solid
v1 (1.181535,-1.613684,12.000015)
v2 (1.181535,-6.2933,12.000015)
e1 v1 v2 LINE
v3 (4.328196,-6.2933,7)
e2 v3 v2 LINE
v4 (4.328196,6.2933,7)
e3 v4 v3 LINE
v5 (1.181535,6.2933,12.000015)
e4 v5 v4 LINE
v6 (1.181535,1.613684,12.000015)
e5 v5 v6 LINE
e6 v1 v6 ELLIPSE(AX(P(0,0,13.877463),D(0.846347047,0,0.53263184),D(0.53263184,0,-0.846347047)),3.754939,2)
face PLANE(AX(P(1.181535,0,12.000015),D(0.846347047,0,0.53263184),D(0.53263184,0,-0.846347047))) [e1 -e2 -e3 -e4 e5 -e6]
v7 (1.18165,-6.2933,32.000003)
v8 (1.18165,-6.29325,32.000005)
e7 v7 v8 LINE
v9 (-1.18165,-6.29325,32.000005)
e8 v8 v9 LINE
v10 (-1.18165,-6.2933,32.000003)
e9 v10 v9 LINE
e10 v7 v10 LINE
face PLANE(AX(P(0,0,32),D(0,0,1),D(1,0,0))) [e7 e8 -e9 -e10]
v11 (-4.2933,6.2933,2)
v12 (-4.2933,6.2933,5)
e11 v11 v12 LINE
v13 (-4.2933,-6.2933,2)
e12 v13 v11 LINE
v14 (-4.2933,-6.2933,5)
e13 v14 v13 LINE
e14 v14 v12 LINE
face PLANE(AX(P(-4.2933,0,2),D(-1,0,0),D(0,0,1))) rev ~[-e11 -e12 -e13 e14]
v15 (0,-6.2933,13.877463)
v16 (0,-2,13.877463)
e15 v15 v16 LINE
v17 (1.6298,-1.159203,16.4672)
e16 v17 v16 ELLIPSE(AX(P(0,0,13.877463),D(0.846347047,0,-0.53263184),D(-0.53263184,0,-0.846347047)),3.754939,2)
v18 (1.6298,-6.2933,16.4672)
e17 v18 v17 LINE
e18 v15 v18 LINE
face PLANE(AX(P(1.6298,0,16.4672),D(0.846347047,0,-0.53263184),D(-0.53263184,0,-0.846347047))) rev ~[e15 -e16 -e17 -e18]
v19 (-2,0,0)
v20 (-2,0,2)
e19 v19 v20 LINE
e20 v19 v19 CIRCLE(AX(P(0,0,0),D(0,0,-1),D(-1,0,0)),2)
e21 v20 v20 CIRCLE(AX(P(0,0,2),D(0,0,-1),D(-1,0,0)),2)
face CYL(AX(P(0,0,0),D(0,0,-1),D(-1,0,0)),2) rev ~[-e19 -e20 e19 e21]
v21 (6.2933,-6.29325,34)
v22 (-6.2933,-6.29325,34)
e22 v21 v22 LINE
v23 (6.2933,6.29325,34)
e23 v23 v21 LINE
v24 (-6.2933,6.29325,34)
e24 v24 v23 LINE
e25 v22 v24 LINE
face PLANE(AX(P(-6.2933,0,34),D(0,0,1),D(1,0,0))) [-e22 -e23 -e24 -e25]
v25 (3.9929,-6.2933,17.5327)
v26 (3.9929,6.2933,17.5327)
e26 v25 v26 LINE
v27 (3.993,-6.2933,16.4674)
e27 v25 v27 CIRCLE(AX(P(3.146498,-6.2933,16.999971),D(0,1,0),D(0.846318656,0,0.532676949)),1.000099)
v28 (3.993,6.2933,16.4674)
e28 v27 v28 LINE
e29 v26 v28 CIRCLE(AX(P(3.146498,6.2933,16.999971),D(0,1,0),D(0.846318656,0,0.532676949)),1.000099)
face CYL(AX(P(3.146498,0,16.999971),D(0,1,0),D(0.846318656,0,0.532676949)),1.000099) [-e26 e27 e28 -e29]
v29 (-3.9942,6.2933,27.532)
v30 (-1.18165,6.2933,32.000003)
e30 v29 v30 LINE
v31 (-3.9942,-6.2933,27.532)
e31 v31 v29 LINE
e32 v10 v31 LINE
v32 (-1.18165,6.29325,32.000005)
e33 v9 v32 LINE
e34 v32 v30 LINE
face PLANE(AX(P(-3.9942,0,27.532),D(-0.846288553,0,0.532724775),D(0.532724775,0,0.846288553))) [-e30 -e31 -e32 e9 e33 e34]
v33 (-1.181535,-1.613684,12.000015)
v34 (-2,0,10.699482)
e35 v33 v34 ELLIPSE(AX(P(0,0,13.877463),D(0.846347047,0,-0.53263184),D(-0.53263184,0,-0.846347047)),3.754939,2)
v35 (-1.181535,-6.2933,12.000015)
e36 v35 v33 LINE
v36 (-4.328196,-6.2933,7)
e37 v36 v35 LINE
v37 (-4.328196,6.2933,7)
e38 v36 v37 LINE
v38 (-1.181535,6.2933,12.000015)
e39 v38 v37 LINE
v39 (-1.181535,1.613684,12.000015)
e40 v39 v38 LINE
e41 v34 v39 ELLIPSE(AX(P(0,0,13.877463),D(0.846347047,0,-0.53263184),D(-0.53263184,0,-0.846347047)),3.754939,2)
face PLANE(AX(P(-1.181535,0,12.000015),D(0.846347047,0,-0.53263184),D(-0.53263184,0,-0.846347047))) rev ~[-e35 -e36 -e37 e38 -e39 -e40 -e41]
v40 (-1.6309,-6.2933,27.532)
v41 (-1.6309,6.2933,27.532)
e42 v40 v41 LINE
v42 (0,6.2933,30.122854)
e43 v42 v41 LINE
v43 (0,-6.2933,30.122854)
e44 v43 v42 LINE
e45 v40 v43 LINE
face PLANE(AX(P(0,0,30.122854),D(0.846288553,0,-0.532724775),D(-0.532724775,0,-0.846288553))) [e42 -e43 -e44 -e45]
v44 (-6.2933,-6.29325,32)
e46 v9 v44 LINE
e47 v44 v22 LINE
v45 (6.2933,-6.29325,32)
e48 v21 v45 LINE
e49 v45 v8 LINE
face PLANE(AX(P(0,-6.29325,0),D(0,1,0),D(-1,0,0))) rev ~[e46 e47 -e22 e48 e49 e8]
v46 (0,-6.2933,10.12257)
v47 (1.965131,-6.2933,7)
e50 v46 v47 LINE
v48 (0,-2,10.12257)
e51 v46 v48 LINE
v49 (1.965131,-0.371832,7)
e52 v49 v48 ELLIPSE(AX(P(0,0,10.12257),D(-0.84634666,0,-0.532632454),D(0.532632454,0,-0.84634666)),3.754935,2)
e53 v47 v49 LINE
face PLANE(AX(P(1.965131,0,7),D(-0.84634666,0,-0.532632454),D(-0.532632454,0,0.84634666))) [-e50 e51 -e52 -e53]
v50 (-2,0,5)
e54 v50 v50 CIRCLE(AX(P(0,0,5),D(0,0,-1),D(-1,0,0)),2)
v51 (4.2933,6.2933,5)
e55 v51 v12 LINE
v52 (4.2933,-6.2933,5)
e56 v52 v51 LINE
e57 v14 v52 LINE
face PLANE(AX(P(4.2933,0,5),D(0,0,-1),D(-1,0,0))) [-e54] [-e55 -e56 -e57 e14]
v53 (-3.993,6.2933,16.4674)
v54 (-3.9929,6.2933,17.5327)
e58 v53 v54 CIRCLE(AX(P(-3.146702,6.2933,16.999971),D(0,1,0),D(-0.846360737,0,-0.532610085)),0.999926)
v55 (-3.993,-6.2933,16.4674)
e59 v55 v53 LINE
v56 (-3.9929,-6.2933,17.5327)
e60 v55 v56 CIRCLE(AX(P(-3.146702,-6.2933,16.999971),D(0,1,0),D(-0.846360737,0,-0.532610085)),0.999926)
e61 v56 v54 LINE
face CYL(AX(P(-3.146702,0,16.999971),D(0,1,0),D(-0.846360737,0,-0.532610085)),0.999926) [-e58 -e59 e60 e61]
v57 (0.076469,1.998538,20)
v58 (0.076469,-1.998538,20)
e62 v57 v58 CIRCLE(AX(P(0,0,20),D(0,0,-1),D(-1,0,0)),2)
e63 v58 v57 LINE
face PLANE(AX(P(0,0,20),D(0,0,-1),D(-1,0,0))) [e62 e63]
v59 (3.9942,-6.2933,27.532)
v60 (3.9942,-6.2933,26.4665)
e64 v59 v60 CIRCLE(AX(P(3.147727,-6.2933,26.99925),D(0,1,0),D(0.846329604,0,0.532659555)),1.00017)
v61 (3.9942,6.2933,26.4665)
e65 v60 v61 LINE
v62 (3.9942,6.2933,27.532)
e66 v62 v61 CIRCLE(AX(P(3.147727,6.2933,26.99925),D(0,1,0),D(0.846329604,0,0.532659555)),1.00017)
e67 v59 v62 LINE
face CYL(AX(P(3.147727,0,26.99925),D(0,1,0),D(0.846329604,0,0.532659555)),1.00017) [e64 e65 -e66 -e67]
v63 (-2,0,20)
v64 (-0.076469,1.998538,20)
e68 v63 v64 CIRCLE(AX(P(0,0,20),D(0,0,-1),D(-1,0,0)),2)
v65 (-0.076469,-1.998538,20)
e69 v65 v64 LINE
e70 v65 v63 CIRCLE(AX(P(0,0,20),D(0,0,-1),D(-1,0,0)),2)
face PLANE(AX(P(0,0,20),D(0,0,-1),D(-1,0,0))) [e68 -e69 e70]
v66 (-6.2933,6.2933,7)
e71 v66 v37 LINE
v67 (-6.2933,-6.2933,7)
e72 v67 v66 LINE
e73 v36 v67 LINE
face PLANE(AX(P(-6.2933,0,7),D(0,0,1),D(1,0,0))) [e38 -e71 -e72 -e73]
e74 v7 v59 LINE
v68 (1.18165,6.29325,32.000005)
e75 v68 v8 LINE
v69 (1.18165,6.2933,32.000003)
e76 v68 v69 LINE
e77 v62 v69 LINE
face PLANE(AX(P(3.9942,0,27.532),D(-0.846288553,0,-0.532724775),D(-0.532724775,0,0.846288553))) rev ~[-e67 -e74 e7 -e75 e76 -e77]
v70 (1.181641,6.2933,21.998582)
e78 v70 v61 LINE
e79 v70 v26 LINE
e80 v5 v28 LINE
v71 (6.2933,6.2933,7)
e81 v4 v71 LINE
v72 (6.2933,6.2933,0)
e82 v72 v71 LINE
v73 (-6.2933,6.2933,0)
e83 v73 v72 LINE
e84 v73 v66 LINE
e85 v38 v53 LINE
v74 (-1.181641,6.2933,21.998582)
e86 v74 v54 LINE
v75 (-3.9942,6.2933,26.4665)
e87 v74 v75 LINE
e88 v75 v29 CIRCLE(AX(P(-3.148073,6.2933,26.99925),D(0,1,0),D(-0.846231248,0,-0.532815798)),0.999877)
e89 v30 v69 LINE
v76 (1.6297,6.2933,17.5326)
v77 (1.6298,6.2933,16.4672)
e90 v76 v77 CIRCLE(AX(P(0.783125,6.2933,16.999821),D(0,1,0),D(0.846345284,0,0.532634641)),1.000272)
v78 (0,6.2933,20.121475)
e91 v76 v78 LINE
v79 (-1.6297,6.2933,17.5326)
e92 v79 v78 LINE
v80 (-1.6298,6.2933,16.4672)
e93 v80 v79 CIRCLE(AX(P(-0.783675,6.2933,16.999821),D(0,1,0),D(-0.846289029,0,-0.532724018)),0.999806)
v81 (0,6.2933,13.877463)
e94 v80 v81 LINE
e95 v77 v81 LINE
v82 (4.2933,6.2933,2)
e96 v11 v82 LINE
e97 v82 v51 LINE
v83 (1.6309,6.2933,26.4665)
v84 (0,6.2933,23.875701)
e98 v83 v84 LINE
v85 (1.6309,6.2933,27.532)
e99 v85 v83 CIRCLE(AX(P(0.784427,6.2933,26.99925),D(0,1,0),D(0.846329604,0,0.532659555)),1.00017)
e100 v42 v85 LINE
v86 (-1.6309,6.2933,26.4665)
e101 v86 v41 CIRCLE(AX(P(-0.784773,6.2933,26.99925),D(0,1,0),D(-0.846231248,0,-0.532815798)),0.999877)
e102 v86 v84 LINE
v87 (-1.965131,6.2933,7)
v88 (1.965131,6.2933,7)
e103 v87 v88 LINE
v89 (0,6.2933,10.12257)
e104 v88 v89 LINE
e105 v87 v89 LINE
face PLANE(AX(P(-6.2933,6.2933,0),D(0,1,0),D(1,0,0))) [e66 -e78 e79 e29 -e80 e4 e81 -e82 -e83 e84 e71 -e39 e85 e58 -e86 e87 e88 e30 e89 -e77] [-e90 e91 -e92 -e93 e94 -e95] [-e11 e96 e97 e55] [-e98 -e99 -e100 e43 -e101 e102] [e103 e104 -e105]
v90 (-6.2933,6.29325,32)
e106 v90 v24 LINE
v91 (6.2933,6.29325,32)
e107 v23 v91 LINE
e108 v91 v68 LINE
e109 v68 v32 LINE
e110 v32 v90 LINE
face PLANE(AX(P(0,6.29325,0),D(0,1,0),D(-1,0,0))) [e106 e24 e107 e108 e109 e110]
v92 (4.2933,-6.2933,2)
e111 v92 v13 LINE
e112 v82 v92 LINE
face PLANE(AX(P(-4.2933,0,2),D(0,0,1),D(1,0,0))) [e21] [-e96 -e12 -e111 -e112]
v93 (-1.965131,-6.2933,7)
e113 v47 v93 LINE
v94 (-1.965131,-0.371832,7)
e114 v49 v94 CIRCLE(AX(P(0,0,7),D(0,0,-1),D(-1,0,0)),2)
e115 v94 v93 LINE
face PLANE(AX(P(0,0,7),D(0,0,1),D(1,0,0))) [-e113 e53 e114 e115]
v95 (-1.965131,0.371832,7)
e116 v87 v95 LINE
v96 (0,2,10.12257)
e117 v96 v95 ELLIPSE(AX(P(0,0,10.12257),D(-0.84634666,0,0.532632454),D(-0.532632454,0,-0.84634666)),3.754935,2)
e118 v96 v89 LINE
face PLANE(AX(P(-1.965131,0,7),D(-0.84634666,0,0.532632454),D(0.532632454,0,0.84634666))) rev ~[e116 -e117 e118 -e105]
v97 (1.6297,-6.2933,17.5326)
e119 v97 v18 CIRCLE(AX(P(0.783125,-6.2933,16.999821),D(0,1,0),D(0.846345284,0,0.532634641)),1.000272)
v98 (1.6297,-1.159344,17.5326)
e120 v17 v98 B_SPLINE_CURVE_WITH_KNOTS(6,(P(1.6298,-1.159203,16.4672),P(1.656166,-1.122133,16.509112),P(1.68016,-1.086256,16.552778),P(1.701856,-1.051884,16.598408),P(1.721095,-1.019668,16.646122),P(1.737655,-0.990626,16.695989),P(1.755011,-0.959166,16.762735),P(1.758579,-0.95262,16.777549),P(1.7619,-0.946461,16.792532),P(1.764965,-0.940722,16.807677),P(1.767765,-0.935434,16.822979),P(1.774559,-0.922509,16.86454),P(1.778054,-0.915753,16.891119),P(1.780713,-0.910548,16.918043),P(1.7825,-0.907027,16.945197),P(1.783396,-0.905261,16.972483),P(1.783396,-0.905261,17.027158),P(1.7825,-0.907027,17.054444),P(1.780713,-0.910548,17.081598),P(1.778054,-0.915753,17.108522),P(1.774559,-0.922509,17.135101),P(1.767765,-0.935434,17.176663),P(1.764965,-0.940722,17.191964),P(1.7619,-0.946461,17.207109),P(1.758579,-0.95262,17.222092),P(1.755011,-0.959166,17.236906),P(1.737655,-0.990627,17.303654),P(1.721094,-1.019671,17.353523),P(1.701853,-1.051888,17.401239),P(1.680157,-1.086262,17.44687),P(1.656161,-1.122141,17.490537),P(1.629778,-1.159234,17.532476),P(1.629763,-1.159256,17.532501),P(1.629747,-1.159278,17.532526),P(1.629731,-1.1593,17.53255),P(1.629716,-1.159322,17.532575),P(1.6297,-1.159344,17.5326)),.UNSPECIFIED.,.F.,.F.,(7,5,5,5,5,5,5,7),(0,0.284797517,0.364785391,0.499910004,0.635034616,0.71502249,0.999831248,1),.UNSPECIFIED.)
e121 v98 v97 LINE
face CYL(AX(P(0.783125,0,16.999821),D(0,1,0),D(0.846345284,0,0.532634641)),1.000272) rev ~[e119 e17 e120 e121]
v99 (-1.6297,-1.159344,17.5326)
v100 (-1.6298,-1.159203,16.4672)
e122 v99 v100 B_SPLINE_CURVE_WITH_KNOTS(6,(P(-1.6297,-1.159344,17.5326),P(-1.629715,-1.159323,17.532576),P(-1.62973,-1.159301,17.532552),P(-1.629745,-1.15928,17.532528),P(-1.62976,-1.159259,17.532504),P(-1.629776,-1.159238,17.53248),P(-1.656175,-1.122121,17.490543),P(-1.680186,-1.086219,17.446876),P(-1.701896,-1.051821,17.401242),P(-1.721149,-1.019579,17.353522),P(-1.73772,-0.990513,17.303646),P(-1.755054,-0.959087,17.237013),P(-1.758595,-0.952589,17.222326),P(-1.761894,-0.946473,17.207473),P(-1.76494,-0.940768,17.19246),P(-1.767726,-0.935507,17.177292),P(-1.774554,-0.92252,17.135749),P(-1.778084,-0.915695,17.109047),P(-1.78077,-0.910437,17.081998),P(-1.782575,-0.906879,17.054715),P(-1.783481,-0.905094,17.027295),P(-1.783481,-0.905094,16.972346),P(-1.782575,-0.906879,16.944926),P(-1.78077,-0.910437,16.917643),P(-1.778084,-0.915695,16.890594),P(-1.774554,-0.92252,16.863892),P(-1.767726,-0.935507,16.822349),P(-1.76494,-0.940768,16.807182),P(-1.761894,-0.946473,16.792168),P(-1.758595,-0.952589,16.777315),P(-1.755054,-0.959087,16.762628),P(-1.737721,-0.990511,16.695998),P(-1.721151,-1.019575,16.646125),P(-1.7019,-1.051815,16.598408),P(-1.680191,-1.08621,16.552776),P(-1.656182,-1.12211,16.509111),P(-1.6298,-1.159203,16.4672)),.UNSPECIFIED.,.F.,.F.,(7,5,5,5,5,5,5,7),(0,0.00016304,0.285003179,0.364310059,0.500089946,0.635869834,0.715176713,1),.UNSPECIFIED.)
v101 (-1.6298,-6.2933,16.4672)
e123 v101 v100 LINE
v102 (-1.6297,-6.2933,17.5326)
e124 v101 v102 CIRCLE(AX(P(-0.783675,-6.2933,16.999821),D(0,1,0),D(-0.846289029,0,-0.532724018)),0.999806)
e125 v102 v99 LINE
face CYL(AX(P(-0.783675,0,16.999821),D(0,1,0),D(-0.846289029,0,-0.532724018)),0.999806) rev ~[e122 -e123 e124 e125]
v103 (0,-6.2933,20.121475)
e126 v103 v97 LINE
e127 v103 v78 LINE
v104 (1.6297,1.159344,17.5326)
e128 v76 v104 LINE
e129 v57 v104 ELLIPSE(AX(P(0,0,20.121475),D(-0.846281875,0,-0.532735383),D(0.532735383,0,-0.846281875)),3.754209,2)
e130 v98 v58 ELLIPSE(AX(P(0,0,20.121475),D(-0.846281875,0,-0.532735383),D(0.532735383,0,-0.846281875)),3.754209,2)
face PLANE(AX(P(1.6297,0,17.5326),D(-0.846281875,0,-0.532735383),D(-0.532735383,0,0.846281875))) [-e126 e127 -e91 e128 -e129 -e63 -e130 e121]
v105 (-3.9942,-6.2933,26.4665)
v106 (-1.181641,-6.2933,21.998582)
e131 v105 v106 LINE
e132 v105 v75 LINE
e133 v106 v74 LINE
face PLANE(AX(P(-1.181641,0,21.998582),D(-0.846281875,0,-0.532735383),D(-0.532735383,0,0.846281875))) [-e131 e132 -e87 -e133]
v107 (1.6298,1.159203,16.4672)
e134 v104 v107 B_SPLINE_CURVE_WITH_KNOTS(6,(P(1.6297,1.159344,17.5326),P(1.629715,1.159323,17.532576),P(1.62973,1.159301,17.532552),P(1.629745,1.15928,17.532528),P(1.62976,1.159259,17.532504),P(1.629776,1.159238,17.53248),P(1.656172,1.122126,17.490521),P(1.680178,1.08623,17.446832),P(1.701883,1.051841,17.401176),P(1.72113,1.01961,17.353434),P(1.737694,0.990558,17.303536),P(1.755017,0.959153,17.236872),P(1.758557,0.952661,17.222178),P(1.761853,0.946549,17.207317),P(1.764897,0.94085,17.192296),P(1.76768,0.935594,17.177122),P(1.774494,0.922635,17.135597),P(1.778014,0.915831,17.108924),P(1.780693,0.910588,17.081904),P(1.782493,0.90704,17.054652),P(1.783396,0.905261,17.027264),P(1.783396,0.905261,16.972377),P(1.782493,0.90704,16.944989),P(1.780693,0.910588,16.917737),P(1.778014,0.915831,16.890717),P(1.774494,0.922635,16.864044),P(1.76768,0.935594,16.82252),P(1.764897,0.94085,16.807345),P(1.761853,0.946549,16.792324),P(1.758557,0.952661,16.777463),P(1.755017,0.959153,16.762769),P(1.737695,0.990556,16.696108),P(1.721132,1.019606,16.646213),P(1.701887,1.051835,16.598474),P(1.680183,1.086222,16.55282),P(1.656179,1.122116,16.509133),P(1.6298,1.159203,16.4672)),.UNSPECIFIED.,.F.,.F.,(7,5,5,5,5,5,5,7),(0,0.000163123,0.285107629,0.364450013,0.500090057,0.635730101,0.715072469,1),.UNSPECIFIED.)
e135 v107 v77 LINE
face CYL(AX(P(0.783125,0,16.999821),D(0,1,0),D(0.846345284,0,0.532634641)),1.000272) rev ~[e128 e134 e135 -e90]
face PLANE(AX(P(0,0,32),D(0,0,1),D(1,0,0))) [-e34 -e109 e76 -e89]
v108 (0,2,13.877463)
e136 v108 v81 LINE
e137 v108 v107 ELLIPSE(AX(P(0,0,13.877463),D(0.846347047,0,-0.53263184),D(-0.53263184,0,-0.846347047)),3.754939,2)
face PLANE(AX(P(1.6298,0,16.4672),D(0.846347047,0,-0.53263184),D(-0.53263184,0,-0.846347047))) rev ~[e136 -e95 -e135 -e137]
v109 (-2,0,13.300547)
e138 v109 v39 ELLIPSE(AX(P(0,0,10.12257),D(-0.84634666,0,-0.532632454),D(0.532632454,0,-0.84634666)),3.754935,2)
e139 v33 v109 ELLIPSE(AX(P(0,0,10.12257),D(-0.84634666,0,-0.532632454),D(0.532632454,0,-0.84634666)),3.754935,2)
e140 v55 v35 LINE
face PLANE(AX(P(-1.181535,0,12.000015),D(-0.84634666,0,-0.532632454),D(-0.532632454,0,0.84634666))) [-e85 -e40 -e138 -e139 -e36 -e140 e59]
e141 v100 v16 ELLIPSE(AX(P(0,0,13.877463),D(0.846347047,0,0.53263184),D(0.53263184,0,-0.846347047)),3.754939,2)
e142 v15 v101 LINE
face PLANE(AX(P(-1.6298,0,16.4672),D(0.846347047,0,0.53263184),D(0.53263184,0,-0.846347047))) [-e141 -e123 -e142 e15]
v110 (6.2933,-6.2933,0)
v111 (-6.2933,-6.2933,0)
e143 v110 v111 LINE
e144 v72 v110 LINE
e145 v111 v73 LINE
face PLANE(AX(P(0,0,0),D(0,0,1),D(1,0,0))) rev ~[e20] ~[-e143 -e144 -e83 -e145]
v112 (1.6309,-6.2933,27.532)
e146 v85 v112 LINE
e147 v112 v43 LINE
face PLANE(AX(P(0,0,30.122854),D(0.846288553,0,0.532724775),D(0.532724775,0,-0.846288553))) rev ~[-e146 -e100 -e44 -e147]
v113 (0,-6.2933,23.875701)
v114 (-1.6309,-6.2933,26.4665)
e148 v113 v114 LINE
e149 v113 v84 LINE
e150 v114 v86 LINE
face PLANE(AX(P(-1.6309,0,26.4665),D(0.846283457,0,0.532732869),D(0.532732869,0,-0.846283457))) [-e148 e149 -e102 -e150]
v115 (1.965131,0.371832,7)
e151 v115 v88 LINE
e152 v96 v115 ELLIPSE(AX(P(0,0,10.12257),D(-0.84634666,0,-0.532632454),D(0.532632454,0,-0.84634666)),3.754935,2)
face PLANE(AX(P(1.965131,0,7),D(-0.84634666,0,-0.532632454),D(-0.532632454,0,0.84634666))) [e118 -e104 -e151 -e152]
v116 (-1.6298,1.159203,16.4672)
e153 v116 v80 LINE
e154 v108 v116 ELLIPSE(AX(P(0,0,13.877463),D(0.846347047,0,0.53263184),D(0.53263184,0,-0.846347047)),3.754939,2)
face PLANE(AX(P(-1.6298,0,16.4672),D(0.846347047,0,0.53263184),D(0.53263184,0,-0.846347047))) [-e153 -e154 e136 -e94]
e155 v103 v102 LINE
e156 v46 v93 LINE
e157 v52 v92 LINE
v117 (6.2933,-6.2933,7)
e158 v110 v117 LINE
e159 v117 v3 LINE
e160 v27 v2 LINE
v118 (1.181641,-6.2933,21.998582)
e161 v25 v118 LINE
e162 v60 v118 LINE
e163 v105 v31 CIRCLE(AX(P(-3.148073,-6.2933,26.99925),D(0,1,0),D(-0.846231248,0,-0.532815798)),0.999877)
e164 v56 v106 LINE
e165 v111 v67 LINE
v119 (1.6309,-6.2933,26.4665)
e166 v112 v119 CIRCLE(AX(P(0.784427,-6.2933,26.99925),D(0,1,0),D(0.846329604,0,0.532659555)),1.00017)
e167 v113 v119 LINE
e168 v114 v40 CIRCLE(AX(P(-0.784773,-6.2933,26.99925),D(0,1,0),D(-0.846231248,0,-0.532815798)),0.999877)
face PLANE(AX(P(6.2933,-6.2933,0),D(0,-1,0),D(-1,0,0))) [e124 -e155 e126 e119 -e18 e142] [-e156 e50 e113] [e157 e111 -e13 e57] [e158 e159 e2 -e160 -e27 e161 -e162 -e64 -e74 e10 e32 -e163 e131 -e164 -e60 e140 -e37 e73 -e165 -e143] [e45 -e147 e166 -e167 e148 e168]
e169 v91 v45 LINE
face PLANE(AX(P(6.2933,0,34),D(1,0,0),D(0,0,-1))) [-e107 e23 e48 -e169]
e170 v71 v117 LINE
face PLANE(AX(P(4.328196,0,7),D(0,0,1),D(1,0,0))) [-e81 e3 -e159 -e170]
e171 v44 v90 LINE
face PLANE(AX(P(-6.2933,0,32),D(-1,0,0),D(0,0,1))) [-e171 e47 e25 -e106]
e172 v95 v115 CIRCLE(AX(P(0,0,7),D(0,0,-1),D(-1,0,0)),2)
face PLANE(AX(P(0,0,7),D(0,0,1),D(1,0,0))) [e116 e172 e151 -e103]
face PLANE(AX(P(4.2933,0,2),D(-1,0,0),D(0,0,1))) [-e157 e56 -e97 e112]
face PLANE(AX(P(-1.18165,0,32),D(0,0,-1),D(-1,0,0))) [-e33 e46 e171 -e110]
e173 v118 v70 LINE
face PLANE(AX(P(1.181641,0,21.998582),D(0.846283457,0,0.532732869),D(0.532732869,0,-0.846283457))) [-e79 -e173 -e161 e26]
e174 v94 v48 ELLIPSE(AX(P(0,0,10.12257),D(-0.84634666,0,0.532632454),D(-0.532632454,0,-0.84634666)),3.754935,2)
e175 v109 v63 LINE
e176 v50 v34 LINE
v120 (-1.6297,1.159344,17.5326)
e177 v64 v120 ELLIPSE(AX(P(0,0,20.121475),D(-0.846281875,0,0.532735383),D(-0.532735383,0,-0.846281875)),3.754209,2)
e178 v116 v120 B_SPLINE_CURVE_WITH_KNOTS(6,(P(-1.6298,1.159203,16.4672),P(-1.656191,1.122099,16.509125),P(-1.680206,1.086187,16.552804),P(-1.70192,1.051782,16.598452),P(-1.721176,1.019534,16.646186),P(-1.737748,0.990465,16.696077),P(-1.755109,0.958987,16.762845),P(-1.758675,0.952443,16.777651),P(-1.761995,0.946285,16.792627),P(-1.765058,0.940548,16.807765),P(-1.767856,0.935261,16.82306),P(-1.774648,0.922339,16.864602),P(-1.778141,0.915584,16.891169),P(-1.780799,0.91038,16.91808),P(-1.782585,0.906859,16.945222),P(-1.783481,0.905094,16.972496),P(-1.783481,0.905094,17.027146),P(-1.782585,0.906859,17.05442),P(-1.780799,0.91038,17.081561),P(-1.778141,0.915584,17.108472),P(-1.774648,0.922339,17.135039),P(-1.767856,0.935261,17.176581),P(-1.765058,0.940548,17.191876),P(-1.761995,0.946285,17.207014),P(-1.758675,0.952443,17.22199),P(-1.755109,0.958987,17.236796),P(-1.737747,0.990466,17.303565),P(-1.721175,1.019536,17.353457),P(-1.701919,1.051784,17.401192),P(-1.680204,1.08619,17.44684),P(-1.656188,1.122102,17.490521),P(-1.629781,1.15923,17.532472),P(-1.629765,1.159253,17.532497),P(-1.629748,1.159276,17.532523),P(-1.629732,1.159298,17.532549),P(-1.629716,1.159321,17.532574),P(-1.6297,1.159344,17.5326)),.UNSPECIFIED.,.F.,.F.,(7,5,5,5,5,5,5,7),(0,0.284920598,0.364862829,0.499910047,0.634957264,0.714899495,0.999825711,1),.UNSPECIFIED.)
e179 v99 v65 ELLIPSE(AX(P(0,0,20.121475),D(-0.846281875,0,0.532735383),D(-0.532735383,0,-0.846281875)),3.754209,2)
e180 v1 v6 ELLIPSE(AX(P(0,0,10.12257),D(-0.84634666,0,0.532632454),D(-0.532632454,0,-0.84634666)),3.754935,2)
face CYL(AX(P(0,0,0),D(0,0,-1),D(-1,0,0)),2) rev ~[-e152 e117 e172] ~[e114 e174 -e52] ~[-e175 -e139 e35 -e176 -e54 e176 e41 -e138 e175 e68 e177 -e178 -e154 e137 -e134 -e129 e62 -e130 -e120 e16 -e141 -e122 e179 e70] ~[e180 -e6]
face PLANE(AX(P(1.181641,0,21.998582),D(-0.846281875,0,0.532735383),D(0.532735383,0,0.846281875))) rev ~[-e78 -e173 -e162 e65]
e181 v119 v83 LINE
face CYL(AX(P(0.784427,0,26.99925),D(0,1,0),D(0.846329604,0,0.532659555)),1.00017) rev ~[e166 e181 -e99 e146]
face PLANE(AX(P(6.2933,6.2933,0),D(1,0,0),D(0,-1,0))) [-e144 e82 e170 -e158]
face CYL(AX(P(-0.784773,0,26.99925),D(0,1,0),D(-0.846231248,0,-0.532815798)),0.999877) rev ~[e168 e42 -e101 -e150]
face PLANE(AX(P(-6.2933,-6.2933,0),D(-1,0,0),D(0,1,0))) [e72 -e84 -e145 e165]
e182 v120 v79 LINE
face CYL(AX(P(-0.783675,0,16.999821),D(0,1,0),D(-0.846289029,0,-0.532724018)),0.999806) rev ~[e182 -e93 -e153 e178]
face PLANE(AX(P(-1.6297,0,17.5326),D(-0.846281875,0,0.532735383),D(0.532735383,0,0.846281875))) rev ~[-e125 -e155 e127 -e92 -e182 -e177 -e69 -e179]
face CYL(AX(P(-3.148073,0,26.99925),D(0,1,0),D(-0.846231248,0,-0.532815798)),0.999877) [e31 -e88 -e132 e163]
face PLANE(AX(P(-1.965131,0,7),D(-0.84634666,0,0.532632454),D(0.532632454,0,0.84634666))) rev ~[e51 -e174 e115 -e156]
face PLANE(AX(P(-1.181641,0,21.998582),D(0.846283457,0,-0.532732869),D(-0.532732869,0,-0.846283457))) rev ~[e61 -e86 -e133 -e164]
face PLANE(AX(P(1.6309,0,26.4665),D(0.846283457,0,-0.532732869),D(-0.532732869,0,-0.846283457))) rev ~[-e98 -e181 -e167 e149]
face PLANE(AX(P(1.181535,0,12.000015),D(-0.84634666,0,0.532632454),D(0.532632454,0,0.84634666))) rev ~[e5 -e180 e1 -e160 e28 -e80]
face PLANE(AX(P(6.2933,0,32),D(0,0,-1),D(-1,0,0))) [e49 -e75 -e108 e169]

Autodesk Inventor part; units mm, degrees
ref_plane "YZ Plane" through (0, 0, 0) normal (1, 0, 0) x (0, 1, 0)
ref_plane "XZ Plane" through (0, 0, 0) normal (0, 1, 0) x (-1, 0, 0)
ref_plane "XY Plane" through (0, 0, 0) normal (0, 0, 1) x (1, 0, 0)
sketch "Boceto1" plane through (0, 0, 0) normal (0, 0, 1) x (1, 0, 0)
  circle A0 centre (0, 0) radius 8.9
  line L0 (6.2933, -6.2933) -> (-6.2933, -6.2933)
  line L1 (-6.2933, -6.2933) -> (-6.2933, 6.2933)
  line L2 (-6.2933, 6.2933) -> (6.2933, 6.2933)
  line L3 (6.2933, 6.2933) -> (6.2933, -6.2933)
  dimension "d0" = 17.8
  dimension "d1" = 12.5865
  dimension "d2" = 12.5865
extrude "Extrusión1" add sketch "Boceto1" along normal blind 32 contours L3 L0 L1 L2
sketch "Boceto3" plane through (0, 0, 0) normal (0, 0, -1) x (-1, 0, 0)
  circle A0 centre (0, 0) radius 2
  dimension "d25" = 4
extrude "Extrusión3" cut sketch "Boceto3" against normal blind 20
sketch "Boceto4" plane through (0, 0, 0) normal (0, 1, 0) x (-1, 0, 0)
  line L0 (-6.2933, 0) -> (6.2933, 0) projected
  line L1 (-6.2933, 0) -> (6.2933, 0)
  line L2 (6.2933, 0) -> (6.2933, 2)
  line L3 (6.2933, 2) -> (-6.2933, 2)
  line L4 (-6.2933, 2) -> (-6.2933, 0)
  line L5 (-6.2933, 0) -> (-4.2933, 0)
  line L6 (-4.2933, 0) -> (-4.2933, 5)
  line L7 (-4.2933, 5) -> (-6.2933, 5)
  line L8 (-6.2933, 5) -> (-6.2933, 0)
  line L9 (6.2933, 0) -> (4.2933, 0)
  line L10 (4.2933, 0) -> (4.2933, 5)
  line L11 (4.2933, 5) -> (6.2933, 5)
  line L12 (6.2933, 5) -> (6.2933, 0)
  line L13 (-6.2933, 5) -> (6.2933, 5)
  line L14 (6.2933, 5) -> (6.2933, 7)
  line L15 (6.2933, 7) -> (-6.2933, 7)
  line L16 (-6.2933, 7) -> (-6.2933, 5)
  line L17 (0, 7) -> (6.2933, 7)
  line L18 (0, 7) -> (-6.2933, 7)
  line L19 (3.1484, 5.1198) -> (-3.993, 16.4674)
  line L20 (-4.8411, 17.815) -> (-3.9947, 18.3476)
  line L21 (4.8411, 6.185) -> (3.1484, 5.1198)
  line L22 (-5.1073, 15.7625) -> (-3.4147, 14.697)
  line L23 (3.9942, 27.532) -> (-0.0773, 34)
  line L24 (-3.4155, 39.303) -> (-5.1081, 38.2376)
  line L25 (-6.2933, 32) -> (6.2933, 32) projected
  line L26 (-6.2933, 32) -> (6.2933, 32)
  line L27 (6.2933, 32) -> (6.2933, 34)
  line L28 (6.2933, 34) -> (-6.2933, 34)
  line L29 (-6.2933, 34) -> (-6.2933, 32)
  line L30 (-1.6298, 16.4672) -> (4.8411, 6.185)
  line L31 (-1.6297, 17.5326) -> (3.9942, 26.4665)
  line L32 (-2.4406, 34) -> (1.6309, 27.532)
  line L33 (-2.4406, 34) -> (-0.0773, 34)
  line L34 (1.6309, 26.4665) -> (-3.9929, 17.5327)
  line L35 (0, 0) -> (0, -2)
  arc A0 (-1.6297, 17.5326) -> (-1.6298, 16.4672) centre (-0.7834, 16.9999) ccw
  arc A1 (-3.9929, 17.5327) -> (-3.993, 16.4674) centre (-3.1466, 17) ccw
  arc A2 (1.6309, 26.4665) -> (1.6309, 27.532) centre (0.7846, 26.9993) ccw
  arc A3 (3.9942, 26.4665) -> (3.9942, 27.532) centre (3.1479, 26.9993) ccw
  line L36 (-3.1484, 5.1198) -> (3.993, 16.4674)
  line L37 (-4.8411, 6.185) -> (-3.1484, 5.1198)
  line L38 (-3.9942, 27.532) -> (0.0773, 34)
  line L39 (1.6298, 16.4672) -> (-4.8411, 6.185)
  line L40 (1.6297, 17.5326) -> (-3.9942, 26.4665)
  line L41 (2.4406, 34) -> (-1.6309, 27.532)
  line L42 (2.4406, 34) -> (0.0773, 34)
  line L43 (-1.6309, 26.4665) -> (3.9929, 17.5327)
  arc A4 (1.6298, 16.4672) -> (1.6297, 17.5326) centre (0.7834, 16.9999) ccw
  arc A5 (3.993, 16.4674) -> (3.9929, 17.5327) centre (3.1466, 17) ccw
  arc A6 (-1.6309, 27.532) -> (-1.6309, 26.4665) centre (-0.7846, 26.9993) ccw
  arc A7 (-3.9942, 27.532) -> (-3.9942, 26.4665) centre (-3.1479, 26.9993) ccw
  point P0 (3.1466, 7)
  point P1 (-3.1466, 7)
  point P2 (0.0009, 22)
  point P3 (0, 32)
  point P4 (3.4147, 14.697)
  point P5 (-0.0009, 22)
  point P6 (3.9947, 18.3476)
  point P7 (-4.2933, 2)
  point P8 (4.2933, 2)
  point P9 (0, 10.1225)
  point P10 (1.9651, 7)
  point P11 (-1.9651, 7)
  point P12 (0, 13.8775)
  point P13 (0, 20.1215)
  point P14 (0, 30.1229)
  point P15 (0, 23.8757)
  point P16 (4.3282, 7)
  point P17 (1.1815, 12)
  point P18 (1.1816, 21.9986)
  point P19 (1.1816, 32)
  point P20 (-1.1816, 32)
  point P21 (-1.1816, 21.9986)
  point P22 (-1.1815, 12)
  point P23 (-4.3282, 7)
  dimension "d28" = 2
  dimension "d29" = 2
  dimension "d30" = 5
  dimension "d31" = 2
  dimension "d32" = 5
  dimension "d33" = 2
  dimension "d36" = 15
  dimension "d44" = 2
  dimension "d45" = 2
  dimension "d46" = 1
extrude "Extrusión4" cut sketch "Boceto4" against normal mid plane 100 contours L4 L3 L6 L0 | L6 L3 L10 L0 | L8 L7 L6 L3 | L16 L15 L39 L37 L36 L19 L21 L30 L14 L11 L13 L7 | L10 L3 L2 L0 | L10 L11 L12 L3 | L39 L19 L36 L15 | L15 L36 L37 L39 | L39 L30 L36 L19 | L19 A1 L34 L40 L31 A0 L30 L39 | L36 L30 L15 L19 | L39 A4 L40 L31 L43 A5 L36 L30 | L30 L21 L19 L15 | L40 A7 L38 L32 L41 A6 L43 L34 | L34 L43 L31 L40 | L34 A2 L32 L41 L23 A3 L31 L43 | L38 L23 L25 | L25 L29 L28 L32 | L25 L41 L32 | L32 L28 L23 L38 | L41 L28 L27 L25 | L23 L38 L28 L41 | L23 L28 L38 keep common part
extrude "Extrusión5" add sketch "Boceto4" along normal mid plane 12.5865 contours L38 L23 L25 | L25 L29 L28 L32 | L32 L28 L23 L38 | L41 L28 L27 L25 | L23 L38 L28 L41 | L23 L28 L38
properties part number "_3DPrint"
